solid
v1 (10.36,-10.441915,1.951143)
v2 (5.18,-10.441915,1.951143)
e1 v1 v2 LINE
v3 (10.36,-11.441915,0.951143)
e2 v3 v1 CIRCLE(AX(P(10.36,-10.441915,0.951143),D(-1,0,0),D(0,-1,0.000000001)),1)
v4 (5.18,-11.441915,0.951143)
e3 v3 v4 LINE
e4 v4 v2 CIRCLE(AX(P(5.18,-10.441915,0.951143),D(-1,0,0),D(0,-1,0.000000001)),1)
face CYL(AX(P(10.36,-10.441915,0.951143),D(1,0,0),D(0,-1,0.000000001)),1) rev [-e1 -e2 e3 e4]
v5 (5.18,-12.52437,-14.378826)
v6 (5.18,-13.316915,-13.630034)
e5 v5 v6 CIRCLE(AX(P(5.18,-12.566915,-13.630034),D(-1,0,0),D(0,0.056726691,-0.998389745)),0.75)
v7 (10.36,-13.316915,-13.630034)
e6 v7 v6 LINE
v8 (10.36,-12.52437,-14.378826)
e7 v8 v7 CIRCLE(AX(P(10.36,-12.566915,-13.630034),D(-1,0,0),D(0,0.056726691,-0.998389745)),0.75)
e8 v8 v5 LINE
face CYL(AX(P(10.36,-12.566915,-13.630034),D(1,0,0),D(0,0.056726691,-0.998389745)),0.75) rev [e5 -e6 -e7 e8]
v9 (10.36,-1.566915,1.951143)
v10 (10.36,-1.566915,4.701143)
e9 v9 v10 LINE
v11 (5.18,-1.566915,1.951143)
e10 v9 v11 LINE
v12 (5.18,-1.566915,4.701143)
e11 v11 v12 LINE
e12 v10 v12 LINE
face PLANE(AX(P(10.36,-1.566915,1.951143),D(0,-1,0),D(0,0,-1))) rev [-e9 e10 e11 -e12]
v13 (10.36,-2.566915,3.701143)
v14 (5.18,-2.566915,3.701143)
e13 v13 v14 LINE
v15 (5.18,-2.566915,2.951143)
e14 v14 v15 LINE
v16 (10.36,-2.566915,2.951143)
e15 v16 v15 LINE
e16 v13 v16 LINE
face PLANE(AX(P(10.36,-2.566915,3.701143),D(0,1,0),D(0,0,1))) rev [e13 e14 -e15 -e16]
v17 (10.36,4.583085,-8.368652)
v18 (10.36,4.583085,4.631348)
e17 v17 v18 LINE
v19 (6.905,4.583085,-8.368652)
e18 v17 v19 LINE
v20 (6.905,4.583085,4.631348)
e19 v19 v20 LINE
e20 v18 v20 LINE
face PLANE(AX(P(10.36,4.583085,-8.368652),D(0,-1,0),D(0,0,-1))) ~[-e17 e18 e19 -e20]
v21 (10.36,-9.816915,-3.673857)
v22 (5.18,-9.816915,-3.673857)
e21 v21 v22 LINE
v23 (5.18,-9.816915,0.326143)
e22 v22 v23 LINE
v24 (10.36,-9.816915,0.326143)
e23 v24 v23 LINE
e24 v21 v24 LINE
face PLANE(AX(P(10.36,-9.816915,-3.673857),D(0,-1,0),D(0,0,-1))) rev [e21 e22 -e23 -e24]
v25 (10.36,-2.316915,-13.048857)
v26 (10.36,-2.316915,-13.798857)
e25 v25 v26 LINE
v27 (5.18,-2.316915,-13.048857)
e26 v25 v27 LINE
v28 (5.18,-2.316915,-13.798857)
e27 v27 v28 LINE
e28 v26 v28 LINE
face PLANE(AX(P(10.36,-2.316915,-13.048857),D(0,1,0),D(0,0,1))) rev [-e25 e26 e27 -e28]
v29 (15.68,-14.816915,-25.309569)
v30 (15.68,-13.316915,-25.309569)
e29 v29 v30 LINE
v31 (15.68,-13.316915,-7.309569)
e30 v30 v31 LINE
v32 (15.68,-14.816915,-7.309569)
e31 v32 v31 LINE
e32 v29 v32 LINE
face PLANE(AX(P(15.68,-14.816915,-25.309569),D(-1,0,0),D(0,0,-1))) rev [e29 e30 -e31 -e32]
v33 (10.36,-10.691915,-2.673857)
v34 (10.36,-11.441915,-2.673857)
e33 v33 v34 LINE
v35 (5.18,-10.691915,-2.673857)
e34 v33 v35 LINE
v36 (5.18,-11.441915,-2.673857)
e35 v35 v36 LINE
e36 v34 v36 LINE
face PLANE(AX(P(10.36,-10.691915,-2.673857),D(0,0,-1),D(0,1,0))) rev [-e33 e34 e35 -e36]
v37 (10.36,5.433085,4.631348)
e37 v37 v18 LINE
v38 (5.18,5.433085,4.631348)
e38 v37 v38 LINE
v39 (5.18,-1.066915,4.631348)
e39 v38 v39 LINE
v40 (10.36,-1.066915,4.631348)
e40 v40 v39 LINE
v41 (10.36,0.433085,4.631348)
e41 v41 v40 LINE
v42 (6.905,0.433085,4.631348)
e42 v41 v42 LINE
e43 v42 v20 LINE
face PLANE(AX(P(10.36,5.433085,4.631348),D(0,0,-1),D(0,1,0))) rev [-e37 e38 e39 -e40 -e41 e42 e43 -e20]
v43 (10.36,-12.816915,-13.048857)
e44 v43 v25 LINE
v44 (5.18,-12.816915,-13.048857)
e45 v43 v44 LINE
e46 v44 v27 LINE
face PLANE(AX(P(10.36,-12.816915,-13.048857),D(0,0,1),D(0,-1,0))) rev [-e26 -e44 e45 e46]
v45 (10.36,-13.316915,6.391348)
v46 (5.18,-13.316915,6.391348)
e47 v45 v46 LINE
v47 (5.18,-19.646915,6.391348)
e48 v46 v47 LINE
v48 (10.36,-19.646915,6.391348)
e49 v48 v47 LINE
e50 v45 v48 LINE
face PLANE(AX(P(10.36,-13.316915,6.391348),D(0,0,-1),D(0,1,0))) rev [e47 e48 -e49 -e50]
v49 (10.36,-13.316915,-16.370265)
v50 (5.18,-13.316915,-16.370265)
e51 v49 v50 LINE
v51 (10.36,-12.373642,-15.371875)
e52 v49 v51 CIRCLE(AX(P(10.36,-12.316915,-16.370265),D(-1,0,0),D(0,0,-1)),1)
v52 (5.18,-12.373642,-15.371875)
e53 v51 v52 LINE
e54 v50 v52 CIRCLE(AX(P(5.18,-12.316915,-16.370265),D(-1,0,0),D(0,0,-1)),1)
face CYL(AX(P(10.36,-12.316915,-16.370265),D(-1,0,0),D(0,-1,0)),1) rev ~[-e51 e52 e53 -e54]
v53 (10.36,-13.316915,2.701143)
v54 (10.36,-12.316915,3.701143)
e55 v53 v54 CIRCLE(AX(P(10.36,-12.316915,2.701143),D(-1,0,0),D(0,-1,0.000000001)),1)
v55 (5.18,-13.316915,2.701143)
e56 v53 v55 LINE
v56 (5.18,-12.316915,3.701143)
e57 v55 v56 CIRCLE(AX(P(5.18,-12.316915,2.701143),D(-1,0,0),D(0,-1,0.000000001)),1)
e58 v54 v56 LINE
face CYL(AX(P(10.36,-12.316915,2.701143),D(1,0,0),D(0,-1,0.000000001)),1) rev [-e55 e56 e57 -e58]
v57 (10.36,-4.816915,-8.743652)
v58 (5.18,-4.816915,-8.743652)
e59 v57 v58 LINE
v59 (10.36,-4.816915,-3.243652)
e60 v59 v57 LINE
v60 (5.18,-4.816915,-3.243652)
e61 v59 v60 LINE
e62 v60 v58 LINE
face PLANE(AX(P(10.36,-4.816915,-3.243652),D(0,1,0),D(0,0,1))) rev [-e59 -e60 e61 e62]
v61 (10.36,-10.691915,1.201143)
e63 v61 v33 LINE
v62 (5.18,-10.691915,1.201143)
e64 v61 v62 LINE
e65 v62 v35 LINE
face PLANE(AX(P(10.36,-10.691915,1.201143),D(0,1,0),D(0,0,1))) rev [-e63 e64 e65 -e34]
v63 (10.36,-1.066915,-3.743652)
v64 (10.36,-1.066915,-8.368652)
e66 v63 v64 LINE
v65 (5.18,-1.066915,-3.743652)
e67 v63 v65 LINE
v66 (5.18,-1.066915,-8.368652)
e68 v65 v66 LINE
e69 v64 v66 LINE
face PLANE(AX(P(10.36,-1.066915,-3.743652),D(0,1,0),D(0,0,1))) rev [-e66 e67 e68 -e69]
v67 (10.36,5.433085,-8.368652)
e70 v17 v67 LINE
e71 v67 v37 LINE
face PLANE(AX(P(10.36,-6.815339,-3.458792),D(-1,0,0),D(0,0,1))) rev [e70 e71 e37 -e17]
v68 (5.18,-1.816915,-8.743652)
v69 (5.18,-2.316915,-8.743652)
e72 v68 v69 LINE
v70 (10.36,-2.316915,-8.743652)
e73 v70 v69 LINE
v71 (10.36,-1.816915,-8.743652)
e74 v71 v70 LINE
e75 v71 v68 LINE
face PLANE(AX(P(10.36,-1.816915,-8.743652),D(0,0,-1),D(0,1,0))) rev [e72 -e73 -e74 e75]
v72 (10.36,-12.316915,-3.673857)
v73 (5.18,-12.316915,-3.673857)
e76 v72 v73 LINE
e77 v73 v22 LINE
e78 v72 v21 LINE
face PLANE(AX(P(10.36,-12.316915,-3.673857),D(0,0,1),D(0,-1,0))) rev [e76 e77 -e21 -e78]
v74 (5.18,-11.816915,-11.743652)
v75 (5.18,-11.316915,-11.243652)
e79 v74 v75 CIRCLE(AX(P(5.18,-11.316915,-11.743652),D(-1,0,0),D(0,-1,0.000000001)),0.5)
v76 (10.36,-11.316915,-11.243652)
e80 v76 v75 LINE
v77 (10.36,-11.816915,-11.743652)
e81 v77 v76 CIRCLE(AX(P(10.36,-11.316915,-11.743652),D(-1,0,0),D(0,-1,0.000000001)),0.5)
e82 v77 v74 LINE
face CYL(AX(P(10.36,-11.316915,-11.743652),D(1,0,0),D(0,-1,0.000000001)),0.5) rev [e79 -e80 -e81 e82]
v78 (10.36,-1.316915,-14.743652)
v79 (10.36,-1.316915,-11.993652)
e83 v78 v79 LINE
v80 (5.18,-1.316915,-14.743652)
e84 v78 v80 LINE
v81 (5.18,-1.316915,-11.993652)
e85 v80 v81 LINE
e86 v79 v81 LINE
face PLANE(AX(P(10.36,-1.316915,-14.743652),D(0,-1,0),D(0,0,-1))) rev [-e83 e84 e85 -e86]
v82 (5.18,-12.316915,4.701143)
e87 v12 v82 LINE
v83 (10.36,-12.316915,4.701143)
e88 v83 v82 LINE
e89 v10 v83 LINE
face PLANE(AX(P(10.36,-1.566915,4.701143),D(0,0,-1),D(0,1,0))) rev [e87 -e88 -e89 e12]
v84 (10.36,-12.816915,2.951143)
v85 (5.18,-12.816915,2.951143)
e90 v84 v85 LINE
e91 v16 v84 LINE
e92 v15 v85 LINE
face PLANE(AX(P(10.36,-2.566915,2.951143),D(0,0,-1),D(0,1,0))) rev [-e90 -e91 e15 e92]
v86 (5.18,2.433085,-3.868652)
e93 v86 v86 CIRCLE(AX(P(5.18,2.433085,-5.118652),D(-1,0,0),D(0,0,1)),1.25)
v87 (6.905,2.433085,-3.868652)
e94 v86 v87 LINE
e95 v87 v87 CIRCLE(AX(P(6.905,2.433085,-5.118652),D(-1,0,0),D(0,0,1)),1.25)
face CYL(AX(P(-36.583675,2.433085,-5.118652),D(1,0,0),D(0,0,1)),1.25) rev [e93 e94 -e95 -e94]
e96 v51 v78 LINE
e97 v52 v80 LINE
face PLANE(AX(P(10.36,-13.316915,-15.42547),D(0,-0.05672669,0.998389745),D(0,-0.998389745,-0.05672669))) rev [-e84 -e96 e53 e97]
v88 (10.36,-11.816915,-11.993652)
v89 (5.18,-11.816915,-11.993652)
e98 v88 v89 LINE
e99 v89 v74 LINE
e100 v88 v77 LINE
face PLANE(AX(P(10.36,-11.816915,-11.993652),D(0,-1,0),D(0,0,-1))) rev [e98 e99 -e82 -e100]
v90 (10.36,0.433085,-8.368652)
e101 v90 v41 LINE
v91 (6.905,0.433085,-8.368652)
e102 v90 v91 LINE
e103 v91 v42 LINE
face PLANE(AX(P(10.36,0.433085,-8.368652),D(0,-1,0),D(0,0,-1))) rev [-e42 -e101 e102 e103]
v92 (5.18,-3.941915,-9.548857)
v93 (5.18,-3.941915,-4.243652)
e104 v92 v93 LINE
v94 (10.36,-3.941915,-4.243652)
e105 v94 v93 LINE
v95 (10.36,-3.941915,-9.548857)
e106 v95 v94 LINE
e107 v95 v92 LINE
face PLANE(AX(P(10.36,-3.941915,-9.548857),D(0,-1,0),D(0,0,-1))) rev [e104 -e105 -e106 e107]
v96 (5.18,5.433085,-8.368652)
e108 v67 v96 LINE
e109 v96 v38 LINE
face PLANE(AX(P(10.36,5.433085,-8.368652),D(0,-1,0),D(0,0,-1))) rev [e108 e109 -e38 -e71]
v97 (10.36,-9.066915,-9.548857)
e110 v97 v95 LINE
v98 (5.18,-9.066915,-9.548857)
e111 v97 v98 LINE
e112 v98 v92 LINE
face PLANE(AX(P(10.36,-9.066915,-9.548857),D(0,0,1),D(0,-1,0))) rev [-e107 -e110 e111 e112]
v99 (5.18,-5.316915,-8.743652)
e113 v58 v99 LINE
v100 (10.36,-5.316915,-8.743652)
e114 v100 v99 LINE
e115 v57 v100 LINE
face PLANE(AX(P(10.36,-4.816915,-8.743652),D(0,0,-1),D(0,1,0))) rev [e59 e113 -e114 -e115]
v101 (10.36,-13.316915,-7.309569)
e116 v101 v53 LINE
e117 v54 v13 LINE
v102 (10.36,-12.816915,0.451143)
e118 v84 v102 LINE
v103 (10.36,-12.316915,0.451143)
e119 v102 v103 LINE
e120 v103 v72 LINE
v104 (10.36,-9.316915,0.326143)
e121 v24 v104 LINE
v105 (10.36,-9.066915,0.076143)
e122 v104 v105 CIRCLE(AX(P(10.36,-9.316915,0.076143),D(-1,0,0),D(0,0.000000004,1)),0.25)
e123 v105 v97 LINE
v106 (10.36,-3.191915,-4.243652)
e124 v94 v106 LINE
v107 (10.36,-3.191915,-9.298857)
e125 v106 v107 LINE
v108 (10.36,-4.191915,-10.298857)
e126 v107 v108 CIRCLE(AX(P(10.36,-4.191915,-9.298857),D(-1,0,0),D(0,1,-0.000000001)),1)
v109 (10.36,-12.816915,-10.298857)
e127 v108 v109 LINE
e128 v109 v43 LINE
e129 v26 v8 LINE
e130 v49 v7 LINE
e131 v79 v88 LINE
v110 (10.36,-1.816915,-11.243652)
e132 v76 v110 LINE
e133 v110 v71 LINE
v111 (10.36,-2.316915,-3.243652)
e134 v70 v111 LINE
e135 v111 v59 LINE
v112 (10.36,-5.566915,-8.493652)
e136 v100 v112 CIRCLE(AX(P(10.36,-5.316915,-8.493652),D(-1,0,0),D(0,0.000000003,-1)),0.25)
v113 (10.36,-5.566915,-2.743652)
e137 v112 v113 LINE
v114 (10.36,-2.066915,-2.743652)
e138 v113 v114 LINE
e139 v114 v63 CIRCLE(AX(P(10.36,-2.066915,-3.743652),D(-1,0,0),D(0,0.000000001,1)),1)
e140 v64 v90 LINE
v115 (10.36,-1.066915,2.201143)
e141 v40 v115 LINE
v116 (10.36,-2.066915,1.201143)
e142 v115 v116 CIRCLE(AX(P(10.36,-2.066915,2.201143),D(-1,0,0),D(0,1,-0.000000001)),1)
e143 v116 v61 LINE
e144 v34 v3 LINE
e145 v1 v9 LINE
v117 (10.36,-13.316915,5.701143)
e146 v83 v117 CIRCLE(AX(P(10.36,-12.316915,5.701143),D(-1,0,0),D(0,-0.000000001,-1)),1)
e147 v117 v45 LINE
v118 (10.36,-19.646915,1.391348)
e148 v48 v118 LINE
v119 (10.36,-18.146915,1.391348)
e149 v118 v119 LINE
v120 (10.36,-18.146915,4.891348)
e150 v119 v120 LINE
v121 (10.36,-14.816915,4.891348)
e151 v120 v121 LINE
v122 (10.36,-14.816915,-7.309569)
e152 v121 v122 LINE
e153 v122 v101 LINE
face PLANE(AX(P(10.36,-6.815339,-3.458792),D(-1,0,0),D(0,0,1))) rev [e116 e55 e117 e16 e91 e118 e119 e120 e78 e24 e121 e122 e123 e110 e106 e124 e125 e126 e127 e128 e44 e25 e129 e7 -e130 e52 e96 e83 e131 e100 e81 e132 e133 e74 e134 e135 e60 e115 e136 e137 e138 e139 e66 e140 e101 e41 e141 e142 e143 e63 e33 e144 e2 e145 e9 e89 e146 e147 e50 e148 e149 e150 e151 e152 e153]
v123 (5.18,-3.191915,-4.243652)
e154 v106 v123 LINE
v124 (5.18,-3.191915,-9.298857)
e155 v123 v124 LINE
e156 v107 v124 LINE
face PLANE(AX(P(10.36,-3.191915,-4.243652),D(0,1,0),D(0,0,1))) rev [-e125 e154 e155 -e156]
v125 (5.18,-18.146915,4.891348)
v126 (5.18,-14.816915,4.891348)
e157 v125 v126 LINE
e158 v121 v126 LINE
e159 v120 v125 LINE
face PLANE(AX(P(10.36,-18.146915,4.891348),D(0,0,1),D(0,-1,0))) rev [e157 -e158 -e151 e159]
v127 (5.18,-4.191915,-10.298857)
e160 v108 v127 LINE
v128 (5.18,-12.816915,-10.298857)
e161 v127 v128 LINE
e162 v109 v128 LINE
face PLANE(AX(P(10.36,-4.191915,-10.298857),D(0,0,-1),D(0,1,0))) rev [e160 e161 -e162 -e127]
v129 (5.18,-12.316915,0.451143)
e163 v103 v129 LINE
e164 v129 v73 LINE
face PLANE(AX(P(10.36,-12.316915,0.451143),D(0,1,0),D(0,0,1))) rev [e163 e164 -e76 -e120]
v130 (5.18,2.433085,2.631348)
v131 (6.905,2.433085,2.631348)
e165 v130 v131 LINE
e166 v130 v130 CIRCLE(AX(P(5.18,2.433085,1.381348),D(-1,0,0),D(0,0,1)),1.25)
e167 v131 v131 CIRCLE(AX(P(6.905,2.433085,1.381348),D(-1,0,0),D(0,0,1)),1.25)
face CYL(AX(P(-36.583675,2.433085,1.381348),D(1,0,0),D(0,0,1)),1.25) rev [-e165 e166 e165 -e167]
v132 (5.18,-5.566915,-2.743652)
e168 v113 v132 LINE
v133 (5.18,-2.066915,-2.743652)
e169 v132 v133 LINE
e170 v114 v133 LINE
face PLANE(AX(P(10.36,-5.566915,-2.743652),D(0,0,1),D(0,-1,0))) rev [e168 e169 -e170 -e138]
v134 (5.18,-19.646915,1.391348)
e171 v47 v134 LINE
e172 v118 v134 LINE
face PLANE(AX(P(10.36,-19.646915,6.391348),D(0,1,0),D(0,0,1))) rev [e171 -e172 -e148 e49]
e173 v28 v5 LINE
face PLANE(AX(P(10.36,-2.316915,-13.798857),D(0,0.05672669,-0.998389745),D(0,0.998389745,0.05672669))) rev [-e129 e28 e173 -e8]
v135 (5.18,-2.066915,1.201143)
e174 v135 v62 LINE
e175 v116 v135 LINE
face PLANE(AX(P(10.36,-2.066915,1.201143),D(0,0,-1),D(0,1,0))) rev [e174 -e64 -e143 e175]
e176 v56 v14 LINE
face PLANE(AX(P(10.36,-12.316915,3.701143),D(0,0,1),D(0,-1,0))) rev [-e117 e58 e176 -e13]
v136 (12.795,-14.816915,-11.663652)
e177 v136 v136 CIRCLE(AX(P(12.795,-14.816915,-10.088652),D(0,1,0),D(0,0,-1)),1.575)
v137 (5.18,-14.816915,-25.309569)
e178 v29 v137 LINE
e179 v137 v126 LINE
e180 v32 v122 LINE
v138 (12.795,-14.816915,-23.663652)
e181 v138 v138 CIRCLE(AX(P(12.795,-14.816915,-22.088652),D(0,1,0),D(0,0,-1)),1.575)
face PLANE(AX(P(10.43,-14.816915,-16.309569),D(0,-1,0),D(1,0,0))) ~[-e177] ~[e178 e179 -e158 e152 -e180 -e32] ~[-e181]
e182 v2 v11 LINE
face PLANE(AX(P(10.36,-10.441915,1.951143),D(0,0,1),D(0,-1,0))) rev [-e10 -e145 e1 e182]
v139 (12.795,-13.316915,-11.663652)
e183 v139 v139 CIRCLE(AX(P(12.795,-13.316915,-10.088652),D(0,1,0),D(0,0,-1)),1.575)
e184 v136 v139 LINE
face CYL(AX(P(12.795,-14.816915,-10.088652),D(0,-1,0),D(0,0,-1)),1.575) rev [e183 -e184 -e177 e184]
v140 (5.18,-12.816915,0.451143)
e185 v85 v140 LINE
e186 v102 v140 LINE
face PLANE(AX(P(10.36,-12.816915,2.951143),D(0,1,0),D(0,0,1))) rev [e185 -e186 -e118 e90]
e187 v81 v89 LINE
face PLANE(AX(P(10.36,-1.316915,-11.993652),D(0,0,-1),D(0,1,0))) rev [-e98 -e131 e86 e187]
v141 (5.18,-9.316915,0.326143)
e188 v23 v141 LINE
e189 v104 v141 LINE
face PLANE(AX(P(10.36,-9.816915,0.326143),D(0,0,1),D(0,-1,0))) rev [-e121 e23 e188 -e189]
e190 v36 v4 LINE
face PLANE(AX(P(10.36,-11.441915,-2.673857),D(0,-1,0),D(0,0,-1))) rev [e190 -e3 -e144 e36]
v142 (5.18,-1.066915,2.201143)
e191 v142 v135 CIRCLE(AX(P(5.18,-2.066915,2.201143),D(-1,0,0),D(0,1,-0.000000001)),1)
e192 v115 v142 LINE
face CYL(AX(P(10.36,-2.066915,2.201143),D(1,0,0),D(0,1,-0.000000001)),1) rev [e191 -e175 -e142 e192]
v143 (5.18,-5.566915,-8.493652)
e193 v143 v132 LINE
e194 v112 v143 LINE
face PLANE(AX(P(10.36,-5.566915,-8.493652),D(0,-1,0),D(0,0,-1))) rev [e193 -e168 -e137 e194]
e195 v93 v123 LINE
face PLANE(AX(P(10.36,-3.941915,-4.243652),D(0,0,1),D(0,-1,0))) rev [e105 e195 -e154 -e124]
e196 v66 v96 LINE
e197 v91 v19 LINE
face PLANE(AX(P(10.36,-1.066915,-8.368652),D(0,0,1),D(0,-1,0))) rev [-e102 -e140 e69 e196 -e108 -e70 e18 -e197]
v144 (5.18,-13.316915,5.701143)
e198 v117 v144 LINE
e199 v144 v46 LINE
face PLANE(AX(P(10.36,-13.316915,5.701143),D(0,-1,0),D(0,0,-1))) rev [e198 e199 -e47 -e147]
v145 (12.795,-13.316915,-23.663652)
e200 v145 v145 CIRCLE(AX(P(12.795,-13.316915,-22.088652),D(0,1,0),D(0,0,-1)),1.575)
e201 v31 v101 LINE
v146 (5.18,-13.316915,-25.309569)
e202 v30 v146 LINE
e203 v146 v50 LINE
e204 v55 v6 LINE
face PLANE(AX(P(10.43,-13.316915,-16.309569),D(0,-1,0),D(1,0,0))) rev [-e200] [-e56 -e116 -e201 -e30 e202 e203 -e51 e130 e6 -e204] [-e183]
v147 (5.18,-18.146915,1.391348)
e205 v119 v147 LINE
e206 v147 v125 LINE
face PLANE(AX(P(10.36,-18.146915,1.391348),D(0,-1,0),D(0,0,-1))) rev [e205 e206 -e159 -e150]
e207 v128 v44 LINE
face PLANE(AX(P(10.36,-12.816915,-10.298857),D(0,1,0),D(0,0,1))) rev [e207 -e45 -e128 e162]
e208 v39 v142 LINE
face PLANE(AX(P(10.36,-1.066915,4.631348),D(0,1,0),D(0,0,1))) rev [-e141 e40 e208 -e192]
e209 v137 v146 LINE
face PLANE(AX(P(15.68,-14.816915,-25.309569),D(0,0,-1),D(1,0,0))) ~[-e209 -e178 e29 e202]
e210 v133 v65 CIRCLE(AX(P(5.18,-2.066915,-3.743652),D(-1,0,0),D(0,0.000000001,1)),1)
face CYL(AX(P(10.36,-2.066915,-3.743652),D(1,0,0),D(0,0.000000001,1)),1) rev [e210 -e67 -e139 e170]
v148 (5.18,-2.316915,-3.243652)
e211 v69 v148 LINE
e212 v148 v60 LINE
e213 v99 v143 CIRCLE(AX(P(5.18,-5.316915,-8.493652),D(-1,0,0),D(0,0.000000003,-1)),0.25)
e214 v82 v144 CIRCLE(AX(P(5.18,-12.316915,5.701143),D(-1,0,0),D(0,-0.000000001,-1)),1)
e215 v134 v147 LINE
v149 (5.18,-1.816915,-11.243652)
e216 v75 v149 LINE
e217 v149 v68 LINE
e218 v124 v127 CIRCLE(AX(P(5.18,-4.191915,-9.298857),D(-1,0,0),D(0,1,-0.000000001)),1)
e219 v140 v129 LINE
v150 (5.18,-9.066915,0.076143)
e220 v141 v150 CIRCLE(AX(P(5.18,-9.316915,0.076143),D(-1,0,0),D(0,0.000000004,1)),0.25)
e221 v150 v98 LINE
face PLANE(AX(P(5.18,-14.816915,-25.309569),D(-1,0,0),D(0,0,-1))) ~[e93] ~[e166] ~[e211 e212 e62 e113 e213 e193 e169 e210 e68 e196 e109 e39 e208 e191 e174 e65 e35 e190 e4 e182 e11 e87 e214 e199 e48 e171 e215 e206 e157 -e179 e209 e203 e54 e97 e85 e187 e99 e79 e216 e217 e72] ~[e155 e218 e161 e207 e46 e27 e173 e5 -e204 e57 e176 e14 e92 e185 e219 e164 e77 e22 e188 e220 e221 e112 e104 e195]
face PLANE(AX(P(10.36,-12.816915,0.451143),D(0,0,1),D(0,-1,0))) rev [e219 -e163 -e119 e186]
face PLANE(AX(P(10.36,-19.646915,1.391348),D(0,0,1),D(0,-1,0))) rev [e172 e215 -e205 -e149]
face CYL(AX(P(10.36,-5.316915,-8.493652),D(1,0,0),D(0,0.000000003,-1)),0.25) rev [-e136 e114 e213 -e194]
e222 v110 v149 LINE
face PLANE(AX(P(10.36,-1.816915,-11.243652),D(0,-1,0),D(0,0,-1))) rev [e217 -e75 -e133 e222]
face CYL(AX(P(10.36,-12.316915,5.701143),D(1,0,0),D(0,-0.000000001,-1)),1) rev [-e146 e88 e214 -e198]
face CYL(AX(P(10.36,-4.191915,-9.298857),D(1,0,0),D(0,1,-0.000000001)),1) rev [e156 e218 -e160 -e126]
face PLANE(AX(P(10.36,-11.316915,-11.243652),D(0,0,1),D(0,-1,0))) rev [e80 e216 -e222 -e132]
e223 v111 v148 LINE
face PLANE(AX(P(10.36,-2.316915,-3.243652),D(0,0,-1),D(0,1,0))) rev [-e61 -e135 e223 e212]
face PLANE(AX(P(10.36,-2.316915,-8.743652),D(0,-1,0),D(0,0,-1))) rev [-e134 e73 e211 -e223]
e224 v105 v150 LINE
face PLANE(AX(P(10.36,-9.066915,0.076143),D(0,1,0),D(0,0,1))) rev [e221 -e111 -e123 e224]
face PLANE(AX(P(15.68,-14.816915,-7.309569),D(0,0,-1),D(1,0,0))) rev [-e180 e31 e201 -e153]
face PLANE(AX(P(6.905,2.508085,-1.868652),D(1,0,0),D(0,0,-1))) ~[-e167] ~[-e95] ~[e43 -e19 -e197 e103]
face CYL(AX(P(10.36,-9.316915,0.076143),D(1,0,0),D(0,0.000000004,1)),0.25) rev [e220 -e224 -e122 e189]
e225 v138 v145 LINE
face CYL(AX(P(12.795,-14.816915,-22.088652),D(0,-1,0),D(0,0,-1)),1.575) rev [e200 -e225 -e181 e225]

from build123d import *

# Parameters (mm, degrees)
FLEXURE_BOSS_DEPTH            = 5.18
SKETCH2_W                     = 10.5
SKETCH2_H                     = 18
SKETCH2_R                     = 1.575
MOUNTING_PLATE_BOSS_DEPTH     = 1.5
SKETCH7_W                     = 13
SKETCH7_H                     = 4.15
DOVETAIL_CONNECTION_CUT_DEPTH = 3.455
M3X0_5_TAPPED_HOLE1_D         = 2.5
FILLET1_R                     = 1


with BuildPart() as part:
    # Sketch1 → Flexure Boss (new body)
    with BuildSketch(Plane(origin=(0, 0, 0), x_dir=(0, 0, -1), z_dir=(1, 0, 0))):
        with BuildLine():
            ThreePointArc((2.743651747, -2.066915143), (3.036544966, -1.359808362), (3.743651747, -1.066915143))
            Line((3.743651747, -1.066915143), (8.368651984, -1.066915143))
            Line((8.368651984, -1.066915143), (8.368651984, 5.433084857))
            Line((8.368651984, 5.433084857), (-4.631348016, 5.433084857))
            Line((-4.631348016, 5.433084857), (-4.631348016, -1.066915143))
            Line((-4.631348016, -1.066915143), (-2.201142923, -1.066915143))
            ThreePointArc((-2.201142923, -1.066915143), (-1.494036142, -1.359808362), (-1.201142923, -2.066915143))
            Line((-1.201142923, -2.066915143), (-1.201142923, -10.691915143))
            Line((-1.201142923, -10.691915143), (2.673857314, -10.691915143))
            Line((2.673857314, -10.691915143), (2.673857314, -11.441915143))
            Line((2.673857314, -11.441915143), (-0.951142686, -11.441915143))
            ThreePointArc((-0.951142686, -11.441915143), (-1.658249467, -11.149021924), (-1.951142686, -10.441915143))
            Line((-1.951142686, -10.441915143), (-1.951142686, -1.566915143))
            Line((-1.951142686, -1.566915143), (-4.701142686, -1.566915143))
            Line((-4.701142686, -1.566915143), (-4.701142686, -12.316915143))
            ThreePointArc((-4.701142686, -12.316915143), (-4.994035905, -13.024021924), (-5.701142686, -13.316915143))
            Line((-5.701142686, -13.316915143), (-6.391348016, -13.316915143))
            Line((-6.391348016, -13.316915143), (-6.391348016, -19.646915143))
            Line((-6.391348016, -19.646915143), (-1.391348016, -19.646915143))
            Line((-1.391348016, -19.646915143), (-1.391348016, -18.146915143))
            Line((-1.391348016, -18.146915143), (-4.891348016, -18.146915143))
            Line((-4.891348016, -18.146915143), (-4.891348016, -14.816915143))
            Line((-4.891348016, -14.816915143), (-4.631348016, -14.816915143))
            Line((-4.631348016, -14.816915143), (15.425469929, -14.816915143))
            Line((15.425469929, -14.816915143), (15.425469929, -13.316915143))
            Line((15.425469929, -13.316915143), (14.743651747, -1.316915143))
            Line((14.743651747, -1.316915143), (11.993651747, -1.316915143))
            Line((11.993651747, -1.316915143), (11.993651747, -11.816915143))
            Line((11.993651747, -11.816915143), (11.743651747, -11.816915143))
            ThreePointArc((11.743651747, -11.816915143), (11.390098357, -11.670468534), (11.243651747, -11.316915143))
            Line((11.243651747, -11.316915143), (11.243651747, -1.816915143))
            Line((11.243651747, -1.816915143), (8.743651747, -1.816915143))
            Line((8.743651747, -1.816915143), (8.743651747, -2.316915143))
            Line((8.743651747, -2.316915143), (3.243651747, -2.316915143))
            Line((3.243651747, -2.316915143), (3.243651747, -4.816915143))
            Line((3.243651747, -4.816915143), (8.743651747, -4.816915143))
            Line((8.743651747, -4.816915143), (8.743651747, -5.316915143))
            ThreePointArc((8.743651747, -5.316915143), (8.670428443, -5.493691838), (8.493651747, -5.566915143))
            Line((8.493651747, -5.566915143), (2.743651747, -5.566915143))
            Line((2.743651747, -5.566915143), (2.743651747, -2.066915143))
        make_face()
        with BuildLine():
            ThreePointArc((-0.326142923, -9.316915143), (-0.252919618, -9.140138448), (-0.076142923, -9.066915143))
            Line((-0.076142923, -9.066915143), (9.548857077, -9.066915143))
            Line((9.548857077, -9.066915143), (9.548857077, -3.941915143))
            Line((9.548857077, -3.941915143), (4.243651747, -3.941915143))
            Line((4.243651747, -3.941915143), (4.243651747, -3.191915143))
            Line((4.243651747, -3.191915143), (9.298857077, -3.191915143))
            ThreePointArc((9.298857077, -3.191915143), (10.005963858, -3.484808362), (10.298857077, -4.191915143))
            Line((10.298857077, -4.191915143), (10.298857077, -12.816915143))
            Line((10.298857077, -12.816915143), (13.048857077, -12.816915143))
            Line((13.048857077, -12.816915143), (13.048857077, -2.316915143))
            Line((13.048857077, -2.316915143), (13.798857077, -2.316915143))
            Line((13.798857077, -2.316915143), (14.37882611, -12.524370125))
            ThreePointArc((14.37882611, -12.524370125), (14.175198347, -13.0819837), (13.630033801, -13.316915143))
            Line((13.630033801, -13.316915143), (-2.701142686, -13.316915143))
            ThreePointArc((-2.701142686, -13.316915143), (-3.408249467, -13.024021924), (-3.701142686, -12.316915143))
            Line((-3.701142686, -12.316915143), (-3.701142686, -2.566915143))
            Line((-3.701142686, -2.566915143), (-2.951142686, -2.566915143))
            Line((-2.951142686, -2.566915143), (-2.951142686, -12.816915143))
            Line((-2.951142686, -12.816915143), (-0.451142686, -12.816915143))
            Line((-0.451142686, -12.816915143), (-0.451142686, -12.316915143))
            Line((-0.451142686, -12.316915143), (3.673857314, -12.316915143))
            Line((3.673857314, -12.316915143), (3.673857314, -9.816915143))
            Line((3.673857314, -9.816915143), (-0.326142923, -9.816915143))
            Line((-0.326142923, -9.816915143), (-0.326142923, -9.316915143))
        make_face(mode=Mode.SUBTRACT)
    extrude(amount=FLEXURE_BOSS_DEPTH)

    # Sketch2 → Mounting Plate Boss (add)
    with BuildSketch(Plane.XZ.offset(14.816915143)):
        with Locations((-0.07, -16.309568548)):
            Rectangle(SKETCH2_W, SKETCH2_H)
        with Locations(Location((-2.435, -10.088651984, 0), (0, 0, 270))):
            Circle(SKETCH2_R, mode=Mode.SUBTRACT)
        with Locations(Location((-2.435, -22.088651984, 0), (0, 0, 270))):
            Circle(SKETCH2_R, mode=Mode.SUBTRACT)
    extrude(amount=-MOUNTING_PLATE_BOSS_DEPTH)

    # Sketch7 → Dovetail Connection Cut (cut)
    with BuildSketch(Plane.ZY):
        with Locations((-1.868651984, 2.508084857)):
            Rectangle(SKETCH7_W, SKETCH7_H)
    extrude(amount=-DOVETAIL_CONNECTION_CUT_DEPTH, mode=Mode.SUBTRACT)

    # M3x0.5 Tapped Hole1 (through all)
    with Locations(Plane(origin=(5.18, 0, 0), x_dir=(0, 0, -1), z_dir=(1, 0, 0))):
        with Locations((-1.381348016, 2.433084857), (5.118651984, 2.433084857)):
            Hole(M3X0_5_TAPPED_HOLE1_D / 2)


with BuildPart() as body_2:
    # Mirror2: mirrored copy
    add(part.part.mirror(Plane(origin=(5.18, 0, 0), x_dir=(0, 0, 1), z_dir=(1, 0, 0))))

    # Fillet1
    fillet1_edges = [body_2.edges().sort_by_distance(p)[0] for p in [
        (7.77, -13.316915143, -15.425469929),
    ]]
    fillet(fillet1_edges, radius=FILLET1_R)


solid = body_2.part
